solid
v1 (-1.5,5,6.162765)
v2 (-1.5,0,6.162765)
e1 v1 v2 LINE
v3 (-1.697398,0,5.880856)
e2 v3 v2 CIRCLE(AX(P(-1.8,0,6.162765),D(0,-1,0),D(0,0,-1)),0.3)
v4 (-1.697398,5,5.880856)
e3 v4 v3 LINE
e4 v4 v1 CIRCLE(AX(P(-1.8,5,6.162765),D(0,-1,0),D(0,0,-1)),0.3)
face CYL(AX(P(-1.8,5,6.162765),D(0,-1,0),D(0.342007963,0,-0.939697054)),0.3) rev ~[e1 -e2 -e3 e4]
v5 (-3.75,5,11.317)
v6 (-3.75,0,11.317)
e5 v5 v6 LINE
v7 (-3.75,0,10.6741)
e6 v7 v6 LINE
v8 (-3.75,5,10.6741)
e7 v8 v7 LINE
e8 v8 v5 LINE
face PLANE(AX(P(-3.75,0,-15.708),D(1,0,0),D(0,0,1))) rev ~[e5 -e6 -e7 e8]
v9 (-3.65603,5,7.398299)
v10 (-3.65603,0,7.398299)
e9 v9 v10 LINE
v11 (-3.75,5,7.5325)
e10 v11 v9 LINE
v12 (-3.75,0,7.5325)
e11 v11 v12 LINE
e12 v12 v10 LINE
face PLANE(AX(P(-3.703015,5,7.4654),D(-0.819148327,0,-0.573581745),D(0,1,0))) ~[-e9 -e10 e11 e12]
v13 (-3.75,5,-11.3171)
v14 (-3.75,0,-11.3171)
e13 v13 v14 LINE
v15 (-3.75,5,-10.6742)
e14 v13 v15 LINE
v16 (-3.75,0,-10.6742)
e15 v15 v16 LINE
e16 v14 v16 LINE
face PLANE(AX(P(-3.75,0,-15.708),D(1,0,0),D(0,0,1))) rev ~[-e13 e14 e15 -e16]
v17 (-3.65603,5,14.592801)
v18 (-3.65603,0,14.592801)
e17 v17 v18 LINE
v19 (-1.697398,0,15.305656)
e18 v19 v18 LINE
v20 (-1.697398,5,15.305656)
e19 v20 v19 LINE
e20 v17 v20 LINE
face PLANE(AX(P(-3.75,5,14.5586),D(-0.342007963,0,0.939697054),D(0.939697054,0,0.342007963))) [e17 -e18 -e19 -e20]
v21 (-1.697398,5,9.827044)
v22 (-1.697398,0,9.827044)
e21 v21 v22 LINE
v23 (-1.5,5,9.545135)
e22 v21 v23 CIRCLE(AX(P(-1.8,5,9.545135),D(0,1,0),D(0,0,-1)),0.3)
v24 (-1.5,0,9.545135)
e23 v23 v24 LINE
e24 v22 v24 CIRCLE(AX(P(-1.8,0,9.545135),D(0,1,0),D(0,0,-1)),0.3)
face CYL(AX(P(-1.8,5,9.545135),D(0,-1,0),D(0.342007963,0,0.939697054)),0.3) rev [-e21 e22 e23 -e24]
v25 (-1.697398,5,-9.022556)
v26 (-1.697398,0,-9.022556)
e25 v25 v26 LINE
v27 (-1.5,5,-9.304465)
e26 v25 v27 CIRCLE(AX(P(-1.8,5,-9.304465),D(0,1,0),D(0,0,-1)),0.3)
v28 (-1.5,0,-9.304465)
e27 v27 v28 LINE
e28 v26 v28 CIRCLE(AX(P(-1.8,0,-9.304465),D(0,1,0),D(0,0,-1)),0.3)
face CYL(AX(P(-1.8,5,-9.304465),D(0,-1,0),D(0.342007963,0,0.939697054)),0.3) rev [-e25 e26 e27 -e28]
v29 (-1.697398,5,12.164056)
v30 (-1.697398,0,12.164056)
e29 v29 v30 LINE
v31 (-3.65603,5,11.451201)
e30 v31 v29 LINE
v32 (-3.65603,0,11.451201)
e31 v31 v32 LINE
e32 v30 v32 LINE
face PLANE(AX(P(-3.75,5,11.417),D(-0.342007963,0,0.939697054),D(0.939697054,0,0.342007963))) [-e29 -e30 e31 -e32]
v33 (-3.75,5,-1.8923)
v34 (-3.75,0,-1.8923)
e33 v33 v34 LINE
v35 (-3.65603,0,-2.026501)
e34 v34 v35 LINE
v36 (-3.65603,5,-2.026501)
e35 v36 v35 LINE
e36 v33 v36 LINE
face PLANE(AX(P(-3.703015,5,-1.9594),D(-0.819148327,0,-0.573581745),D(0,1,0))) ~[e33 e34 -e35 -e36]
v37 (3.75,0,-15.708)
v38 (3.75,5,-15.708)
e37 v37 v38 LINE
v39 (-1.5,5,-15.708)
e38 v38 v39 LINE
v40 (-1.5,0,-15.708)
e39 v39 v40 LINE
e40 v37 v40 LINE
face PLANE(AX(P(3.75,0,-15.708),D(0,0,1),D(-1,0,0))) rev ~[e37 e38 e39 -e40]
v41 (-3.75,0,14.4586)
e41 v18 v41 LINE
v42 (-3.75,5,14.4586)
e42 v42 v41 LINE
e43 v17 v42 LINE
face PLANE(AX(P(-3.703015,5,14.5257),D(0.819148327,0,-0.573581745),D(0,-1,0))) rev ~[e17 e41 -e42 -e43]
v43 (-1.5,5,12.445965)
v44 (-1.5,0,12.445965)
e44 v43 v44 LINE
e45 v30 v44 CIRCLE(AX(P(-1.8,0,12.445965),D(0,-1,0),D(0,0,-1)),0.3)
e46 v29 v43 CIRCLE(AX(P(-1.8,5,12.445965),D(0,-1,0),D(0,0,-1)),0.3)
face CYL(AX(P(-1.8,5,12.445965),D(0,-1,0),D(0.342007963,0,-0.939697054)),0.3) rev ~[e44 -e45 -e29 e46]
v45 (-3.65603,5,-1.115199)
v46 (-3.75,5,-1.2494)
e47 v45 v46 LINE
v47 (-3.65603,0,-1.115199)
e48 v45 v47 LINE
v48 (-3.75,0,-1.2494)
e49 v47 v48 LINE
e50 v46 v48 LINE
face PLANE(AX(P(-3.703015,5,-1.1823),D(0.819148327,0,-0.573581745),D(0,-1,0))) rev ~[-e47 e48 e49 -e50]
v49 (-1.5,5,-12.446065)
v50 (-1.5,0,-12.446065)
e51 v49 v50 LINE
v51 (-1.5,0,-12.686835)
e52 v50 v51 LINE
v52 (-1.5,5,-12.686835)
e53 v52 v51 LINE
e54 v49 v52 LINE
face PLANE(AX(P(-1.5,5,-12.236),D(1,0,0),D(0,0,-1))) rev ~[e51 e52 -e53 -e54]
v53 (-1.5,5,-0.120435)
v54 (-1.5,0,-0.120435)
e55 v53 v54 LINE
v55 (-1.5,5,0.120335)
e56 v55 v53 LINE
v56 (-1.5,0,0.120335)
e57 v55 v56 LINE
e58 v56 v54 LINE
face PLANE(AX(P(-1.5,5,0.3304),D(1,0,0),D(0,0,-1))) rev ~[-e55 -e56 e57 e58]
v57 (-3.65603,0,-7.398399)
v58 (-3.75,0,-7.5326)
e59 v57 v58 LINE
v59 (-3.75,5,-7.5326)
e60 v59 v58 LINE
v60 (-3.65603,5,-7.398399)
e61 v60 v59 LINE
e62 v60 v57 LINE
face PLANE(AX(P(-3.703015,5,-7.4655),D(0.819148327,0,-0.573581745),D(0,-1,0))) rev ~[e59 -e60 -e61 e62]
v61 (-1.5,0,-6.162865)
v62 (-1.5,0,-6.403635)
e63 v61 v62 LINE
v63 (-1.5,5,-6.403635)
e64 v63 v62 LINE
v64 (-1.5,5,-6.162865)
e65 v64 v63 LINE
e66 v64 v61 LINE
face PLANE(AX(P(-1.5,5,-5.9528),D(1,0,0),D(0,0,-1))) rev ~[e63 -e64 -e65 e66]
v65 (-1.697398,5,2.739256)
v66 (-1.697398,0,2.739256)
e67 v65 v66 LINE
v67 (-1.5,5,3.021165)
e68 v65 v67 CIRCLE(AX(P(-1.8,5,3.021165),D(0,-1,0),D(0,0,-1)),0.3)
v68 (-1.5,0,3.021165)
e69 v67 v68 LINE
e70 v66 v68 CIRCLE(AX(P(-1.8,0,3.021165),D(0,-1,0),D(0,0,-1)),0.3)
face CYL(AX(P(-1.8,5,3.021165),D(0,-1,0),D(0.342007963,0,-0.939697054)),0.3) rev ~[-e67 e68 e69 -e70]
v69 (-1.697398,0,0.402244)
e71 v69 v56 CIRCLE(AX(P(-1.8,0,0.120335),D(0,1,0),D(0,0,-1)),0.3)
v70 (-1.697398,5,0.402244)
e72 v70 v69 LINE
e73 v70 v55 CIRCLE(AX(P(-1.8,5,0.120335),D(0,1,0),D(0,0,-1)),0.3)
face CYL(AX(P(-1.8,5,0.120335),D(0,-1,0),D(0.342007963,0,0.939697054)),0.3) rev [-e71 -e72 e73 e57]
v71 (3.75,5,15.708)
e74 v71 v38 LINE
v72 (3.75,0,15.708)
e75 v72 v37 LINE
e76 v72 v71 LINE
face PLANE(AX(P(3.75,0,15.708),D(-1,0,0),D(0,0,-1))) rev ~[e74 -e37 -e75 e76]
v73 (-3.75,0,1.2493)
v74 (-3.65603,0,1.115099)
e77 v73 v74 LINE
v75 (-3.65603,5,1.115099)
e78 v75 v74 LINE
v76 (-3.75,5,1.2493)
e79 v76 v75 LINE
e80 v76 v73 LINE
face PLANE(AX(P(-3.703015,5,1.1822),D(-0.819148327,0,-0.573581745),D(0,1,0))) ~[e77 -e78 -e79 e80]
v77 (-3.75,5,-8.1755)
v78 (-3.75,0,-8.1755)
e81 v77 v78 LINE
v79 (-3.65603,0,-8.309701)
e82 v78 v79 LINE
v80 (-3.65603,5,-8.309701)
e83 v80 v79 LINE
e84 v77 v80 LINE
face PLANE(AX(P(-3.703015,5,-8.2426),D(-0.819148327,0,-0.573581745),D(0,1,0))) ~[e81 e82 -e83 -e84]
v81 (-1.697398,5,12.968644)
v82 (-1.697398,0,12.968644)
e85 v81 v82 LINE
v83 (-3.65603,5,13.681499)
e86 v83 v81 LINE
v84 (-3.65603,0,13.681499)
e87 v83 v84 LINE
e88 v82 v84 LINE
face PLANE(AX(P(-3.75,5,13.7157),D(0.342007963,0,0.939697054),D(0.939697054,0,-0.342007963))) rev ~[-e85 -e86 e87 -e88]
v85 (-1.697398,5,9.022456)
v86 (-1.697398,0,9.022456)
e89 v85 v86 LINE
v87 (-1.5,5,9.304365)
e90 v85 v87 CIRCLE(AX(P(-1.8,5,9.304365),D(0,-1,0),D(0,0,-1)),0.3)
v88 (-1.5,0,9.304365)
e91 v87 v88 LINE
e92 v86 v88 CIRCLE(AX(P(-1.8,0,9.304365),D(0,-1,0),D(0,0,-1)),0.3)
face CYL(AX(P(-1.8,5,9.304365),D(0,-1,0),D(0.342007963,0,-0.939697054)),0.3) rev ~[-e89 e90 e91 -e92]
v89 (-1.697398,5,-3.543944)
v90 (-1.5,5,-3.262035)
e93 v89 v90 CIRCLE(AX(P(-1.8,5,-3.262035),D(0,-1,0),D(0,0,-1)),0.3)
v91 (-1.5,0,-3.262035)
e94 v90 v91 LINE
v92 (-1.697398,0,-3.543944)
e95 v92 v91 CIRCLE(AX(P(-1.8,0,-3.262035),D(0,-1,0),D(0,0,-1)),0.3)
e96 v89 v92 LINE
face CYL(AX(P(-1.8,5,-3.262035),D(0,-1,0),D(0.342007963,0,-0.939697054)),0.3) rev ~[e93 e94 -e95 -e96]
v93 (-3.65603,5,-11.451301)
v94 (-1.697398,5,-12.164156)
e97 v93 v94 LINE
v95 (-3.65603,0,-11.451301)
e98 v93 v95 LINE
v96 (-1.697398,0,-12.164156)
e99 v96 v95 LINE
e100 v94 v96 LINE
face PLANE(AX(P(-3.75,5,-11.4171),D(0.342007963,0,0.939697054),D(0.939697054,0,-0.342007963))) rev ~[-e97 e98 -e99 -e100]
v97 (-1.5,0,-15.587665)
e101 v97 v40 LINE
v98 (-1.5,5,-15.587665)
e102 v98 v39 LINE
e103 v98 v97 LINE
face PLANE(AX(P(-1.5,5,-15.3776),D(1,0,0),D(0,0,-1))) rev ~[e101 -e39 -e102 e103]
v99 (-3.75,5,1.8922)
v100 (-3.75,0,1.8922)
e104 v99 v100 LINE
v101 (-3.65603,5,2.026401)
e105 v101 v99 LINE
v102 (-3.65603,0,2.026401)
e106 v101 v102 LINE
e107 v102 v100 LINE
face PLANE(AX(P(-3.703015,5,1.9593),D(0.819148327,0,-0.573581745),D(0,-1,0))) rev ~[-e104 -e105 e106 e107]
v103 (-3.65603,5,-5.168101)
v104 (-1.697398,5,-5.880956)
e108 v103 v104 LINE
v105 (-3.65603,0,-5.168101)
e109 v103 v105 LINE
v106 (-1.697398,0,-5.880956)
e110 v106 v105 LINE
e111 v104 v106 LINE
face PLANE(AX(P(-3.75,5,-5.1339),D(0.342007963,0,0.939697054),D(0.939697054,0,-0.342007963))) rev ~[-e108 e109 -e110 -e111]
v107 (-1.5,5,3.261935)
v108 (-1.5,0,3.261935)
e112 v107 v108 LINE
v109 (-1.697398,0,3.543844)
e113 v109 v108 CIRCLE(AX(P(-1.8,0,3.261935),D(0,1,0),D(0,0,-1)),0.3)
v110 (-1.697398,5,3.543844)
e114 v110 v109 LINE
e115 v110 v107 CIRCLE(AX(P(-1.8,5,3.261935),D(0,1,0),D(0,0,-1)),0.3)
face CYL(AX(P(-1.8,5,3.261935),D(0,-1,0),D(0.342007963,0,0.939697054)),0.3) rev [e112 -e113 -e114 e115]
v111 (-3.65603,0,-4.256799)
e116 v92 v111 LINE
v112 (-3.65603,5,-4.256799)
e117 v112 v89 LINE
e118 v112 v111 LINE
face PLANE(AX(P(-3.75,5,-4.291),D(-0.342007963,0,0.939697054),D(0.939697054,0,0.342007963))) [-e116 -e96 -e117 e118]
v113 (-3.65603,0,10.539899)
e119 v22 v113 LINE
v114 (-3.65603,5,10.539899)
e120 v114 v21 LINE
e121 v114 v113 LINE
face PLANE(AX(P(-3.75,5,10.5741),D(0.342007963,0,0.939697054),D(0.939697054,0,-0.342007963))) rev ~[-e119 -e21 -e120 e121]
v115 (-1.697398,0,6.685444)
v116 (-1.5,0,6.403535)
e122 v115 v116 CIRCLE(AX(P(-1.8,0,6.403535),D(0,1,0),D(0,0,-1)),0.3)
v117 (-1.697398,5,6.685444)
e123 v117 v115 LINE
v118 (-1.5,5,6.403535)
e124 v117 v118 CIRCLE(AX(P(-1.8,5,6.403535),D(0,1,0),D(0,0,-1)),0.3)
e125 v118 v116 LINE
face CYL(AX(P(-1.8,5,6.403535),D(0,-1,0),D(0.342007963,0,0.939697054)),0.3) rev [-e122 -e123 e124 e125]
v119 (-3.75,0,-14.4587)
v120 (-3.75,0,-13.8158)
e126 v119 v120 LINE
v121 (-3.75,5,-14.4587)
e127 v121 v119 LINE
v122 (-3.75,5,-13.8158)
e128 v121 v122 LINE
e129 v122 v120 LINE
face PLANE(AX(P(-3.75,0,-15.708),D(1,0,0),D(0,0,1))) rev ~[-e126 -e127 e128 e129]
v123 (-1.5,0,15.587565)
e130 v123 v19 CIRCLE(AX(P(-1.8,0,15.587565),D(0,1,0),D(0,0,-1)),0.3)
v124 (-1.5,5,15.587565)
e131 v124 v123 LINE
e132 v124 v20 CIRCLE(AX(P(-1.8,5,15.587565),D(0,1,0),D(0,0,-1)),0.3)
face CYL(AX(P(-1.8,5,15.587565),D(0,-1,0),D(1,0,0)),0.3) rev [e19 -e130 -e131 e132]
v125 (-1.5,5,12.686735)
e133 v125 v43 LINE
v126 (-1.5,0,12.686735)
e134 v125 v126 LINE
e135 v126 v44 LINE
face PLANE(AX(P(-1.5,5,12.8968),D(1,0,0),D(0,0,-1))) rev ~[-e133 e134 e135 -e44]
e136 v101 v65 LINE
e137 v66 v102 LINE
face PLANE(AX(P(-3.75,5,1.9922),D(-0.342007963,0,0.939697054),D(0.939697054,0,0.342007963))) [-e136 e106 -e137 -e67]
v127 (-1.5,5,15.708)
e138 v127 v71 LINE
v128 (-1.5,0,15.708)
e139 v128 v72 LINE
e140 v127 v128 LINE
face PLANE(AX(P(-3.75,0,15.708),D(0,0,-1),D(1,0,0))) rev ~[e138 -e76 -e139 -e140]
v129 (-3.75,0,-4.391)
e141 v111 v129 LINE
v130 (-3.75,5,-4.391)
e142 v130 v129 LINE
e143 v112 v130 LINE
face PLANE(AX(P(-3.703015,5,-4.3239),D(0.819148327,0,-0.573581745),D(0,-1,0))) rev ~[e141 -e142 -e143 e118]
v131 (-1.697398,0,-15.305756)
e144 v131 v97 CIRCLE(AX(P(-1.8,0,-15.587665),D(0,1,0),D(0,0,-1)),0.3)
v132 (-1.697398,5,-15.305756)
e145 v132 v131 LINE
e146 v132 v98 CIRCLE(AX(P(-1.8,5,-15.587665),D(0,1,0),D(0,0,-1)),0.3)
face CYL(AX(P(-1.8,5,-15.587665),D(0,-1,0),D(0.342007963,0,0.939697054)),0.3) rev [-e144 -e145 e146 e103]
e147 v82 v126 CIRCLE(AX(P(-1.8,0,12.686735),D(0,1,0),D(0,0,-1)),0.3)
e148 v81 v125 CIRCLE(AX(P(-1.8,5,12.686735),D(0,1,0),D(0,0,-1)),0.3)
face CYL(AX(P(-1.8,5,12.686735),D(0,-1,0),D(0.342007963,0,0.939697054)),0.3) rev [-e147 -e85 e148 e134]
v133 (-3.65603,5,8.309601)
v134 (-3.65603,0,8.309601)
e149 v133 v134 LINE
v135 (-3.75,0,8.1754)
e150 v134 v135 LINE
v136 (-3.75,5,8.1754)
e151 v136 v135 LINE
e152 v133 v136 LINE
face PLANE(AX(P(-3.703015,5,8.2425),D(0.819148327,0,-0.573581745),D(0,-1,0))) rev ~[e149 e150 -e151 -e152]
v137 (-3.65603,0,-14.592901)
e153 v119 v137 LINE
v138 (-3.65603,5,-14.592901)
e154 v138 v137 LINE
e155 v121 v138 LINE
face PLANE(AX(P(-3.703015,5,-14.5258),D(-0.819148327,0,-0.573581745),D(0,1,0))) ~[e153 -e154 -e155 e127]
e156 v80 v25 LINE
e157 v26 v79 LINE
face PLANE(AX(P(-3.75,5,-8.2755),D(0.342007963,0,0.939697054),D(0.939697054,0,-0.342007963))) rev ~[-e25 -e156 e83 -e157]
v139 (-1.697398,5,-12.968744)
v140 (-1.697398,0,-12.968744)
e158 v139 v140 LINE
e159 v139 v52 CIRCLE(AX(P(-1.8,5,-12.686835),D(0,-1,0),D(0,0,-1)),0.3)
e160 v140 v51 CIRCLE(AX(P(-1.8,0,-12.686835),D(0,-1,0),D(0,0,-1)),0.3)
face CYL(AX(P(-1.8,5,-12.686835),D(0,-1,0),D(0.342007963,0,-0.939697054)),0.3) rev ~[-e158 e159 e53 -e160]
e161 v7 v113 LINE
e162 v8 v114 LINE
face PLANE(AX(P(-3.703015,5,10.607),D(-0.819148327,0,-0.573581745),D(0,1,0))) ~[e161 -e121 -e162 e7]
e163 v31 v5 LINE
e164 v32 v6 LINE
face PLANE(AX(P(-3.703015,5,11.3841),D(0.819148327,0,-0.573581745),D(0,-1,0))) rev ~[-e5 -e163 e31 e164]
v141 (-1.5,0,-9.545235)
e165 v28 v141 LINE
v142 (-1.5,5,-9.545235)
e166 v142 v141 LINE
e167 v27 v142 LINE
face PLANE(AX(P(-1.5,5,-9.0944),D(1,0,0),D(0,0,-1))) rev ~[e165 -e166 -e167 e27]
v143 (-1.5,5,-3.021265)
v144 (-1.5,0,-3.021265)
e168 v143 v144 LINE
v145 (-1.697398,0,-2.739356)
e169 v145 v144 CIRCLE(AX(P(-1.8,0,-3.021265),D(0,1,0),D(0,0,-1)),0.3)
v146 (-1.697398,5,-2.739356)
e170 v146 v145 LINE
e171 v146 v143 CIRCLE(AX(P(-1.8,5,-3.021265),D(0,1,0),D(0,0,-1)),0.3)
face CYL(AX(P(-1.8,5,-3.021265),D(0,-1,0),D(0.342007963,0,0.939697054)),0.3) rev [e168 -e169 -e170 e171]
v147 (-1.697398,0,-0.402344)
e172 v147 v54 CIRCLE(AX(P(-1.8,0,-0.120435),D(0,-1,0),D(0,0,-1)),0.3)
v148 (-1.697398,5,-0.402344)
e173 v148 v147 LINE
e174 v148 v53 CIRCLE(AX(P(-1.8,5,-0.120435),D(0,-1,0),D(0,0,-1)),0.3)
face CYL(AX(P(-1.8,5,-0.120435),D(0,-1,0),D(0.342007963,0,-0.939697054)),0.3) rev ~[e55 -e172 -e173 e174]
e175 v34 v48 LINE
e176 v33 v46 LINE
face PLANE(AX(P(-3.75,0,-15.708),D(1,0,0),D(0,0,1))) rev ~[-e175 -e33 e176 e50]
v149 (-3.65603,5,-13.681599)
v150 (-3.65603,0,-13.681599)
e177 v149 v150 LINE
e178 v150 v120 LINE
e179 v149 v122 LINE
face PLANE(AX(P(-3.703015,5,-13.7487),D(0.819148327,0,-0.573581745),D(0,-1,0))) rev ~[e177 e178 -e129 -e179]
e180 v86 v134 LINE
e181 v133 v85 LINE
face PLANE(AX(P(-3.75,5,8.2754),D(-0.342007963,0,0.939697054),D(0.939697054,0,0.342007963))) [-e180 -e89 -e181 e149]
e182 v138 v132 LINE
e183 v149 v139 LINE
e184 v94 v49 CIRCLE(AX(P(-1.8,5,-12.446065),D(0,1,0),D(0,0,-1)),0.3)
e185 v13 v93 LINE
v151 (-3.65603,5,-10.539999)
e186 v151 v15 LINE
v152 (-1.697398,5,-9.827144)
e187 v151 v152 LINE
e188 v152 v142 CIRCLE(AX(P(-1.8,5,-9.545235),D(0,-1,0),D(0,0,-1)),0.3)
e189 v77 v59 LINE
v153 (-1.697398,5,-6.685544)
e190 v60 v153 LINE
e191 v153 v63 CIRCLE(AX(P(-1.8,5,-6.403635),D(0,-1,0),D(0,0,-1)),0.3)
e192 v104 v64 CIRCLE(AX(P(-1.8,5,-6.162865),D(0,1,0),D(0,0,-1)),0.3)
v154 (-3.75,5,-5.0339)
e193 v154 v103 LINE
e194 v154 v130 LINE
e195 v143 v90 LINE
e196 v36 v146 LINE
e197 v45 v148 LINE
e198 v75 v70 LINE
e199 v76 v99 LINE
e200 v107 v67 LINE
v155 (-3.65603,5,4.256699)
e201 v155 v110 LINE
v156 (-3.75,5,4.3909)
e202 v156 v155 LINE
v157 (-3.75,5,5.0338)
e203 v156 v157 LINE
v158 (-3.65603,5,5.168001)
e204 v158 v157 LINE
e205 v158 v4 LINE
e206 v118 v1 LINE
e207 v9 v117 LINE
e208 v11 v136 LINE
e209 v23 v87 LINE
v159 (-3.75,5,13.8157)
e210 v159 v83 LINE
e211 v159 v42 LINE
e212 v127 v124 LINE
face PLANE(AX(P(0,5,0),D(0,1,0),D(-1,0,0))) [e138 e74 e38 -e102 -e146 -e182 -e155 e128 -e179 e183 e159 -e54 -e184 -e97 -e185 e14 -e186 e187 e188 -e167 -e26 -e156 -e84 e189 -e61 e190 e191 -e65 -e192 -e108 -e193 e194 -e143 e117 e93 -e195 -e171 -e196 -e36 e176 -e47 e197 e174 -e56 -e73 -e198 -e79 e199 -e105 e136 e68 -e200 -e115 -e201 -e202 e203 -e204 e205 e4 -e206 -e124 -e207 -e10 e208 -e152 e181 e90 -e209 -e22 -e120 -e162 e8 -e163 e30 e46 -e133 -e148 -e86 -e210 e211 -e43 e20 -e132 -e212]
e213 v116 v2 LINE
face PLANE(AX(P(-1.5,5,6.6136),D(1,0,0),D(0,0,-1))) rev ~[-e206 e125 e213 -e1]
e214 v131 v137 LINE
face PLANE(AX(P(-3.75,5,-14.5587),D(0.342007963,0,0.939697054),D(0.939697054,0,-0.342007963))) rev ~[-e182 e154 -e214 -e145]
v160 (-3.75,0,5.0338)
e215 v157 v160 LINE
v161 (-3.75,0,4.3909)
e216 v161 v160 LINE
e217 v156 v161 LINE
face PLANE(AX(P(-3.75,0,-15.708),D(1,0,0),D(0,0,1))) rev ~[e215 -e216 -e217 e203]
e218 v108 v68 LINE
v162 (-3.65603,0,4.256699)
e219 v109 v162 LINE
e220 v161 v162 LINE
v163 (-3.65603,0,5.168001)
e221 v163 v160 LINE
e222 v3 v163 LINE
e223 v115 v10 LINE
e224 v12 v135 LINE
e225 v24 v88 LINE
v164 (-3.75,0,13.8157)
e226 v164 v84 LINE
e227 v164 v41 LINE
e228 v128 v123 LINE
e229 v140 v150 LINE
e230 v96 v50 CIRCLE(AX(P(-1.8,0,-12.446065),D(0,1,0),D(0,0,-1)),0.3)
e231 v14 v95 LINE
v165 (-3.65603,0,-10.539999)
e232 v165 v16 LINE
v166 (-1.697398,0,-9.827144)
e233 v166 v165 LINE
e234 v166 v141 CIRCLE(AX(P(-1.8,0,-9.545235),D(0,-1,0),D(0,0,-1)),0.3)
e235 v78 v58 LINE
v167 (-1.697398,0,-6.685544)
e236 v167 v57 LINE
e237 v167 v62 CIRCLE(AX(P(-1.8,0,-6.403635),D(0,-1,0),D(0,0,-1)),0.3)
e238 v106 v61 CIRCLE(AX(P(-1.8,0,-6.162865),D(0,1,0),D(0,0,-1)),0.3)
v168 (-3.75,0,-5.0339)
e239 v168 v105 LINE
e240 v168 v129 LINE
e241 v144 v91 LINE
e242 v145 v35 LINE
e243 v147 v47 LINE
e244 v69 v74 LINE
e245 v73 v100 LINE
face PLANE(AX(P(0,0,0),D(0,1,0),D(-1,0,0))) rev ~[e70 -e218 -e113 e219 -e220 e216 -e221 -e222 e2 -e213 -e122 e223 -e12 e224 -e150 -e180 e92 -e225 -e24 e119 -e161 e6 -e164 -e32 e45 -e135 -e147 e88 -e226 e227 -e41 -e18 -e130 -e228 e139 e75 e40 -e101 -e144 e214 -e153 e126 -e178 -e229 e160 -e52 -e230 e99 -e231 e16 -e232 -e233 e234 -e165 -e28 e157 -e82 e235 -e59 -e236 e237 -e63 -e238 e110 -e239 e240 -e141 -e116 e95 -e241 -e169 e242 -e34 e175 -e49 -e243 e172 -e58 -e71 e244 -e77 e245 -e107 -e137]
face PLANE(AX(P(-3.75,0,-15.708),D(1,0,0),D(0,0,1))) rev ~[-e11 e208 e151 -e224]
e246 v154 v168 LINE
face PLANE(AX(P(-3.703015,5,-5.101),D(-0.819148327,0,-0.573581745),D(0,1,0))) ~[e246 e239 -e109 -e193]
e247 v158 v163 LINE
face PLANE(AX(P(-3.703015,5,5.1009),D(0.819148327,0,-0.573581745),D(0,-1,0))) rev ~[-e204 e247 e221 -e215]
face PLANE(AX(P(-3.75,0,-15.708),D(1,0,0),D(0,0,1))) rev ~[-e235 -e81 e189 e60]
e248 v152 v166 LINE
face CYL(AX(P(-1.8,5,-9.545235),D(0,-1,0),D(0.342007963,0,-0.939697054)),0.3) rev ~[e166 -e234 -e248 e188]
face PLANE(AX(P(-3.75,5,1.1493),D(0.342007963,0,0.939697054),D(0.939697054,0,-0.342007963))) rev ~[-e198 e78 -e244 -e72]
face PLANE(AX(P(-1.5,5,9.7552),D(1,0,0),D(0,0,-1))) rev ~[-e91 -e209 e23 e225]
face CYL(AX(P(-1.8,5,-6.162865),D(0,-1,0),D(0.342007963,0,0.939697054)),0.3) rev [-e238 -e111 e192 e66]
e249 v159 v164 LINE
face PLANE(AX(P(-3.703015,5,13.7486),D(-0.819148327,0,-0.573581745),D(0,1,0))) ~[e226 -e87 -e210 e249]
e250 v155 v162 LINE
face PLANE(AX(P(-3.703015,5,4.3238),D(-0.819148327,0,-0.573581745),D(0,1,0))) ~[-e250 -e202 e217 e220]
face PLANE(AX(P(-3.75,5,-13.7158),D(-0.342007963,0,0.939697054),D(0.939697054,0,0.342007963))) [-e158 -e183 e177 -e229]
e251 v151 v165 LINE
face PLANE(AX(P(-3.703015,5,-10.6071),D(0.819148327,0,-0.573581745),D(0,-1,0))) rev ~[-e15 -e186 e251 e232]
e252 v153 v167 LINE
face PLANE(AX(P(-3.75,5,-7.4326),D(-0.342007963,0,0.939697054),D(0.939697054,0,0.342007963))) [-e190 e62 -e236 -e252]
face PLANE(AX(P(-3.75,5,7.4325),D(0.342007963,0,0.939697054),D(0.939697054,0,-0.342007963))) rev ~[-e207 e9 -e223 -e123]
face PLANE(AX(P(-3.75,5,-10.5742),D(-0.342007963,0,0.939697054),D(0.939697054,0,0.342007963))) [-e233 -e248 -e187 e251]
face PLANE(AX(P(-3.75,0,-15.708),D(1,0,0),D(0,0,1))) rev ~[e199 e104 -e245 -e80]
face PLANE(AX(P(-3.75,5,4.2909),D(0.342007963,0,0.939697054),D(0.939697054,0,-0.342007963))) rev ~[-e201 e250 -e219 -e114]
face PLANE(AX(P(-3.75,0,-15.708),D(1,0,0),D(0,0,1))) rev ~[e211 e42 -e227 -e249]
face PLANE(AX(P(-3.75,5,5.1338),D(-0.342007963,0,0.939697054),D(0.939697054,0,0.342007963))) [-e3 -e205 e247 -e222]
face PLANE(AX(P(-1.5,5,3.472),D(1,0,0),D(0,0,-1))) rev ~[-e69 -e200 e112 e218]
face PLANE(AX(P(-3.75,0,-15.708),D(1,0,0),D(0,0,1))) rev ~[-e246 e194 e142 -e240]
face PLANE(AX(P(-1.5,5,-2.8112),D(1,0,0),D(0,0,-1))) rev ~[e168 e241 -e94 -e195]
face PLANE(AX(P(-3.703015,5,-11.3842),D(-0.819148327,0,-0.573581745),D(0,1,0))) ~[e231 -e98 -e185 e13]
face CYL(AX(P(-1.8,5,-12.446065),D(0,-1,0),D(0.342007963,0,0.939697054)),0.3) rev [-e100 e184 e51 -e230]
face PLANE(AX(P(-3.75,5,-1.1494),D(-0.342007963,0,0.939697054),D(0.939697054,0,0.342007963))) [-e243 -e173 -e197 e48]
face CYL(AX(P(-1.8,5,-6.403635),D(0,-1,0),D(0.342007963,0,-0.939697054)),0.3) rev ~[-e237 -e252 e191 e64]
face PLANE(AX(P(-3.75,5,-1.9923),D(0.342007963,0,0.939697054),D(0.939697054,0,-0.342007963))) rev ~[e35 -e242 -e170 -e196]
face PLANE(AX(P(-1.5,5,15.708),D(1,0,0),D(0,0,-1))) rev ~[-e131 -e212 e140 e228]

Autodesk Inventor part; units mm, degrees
ref_plane "YZ Plane" through (0, 0, 0) normal (1, 0, 0) x (0, 1, 0)
ref_plane "XZ Plane" through (0, 0, 0) normal (0, 1, 0) x (-1, 0, 0)
ref_plane "XY Plane" through (0, 0, 0) normal (0, 0, 1) x (1, 0, 0)
sketch "スケッチ1" plane through (0, 0, 0) normal (0, 1, 0) x (-1, 0, 0)
  point P0 (0, 0)
  point P1 (4.6985, 0)
  point P2 (6.4922, 1.415)
sketch "スケッチ2" plane through (0, 0, 0) normal (0, 1, 0) x (-1, 0, 0)
  line L0 (3.75, 15.708) -> (-3.75, 15.708)
  line L1 (-3.75, 15.708) -> (-3.75, -15.708)
  line L2 (-3.75, -15.708) -> (3.75, -15.708)
  line L3 (3.75, -15.708) -> (3.75, 15.708)
  line L4 (3.75, 15.708) -> (-3.75, -15.708)
  line L5 (3.75, -15.708) -> (-3.75, 15.708)
  point P0 (0, 0)
  point P1 (0.0816, -5.789)
  point P2 (0, 0)
  dimension "d2" = 7.5
  dimension "d3" = 31.4159
extrude "押し出し1" add sketch "スケッチ2" along normal blind 5
ref_plane "作業平面1" through (0, 5, 0) normal (0, 1, 0) x (1, 0, 0)
sketch "スケッチ3" plane through (0, 5, 0) normal (0, 1, 0) x (1, 0, 0)
  line L0 (-3.75, 15.708) -> (-3.75, -15.708) projected
  line L1 (-3.75, -12.5664) -> (3.75, -12.5664)
  line L2 (3.75, -15.708) -> (3.75, 15.708) projected
  line L3 (-3.75, -15.708) -> (3.75, -15.708) projected
  line L4 (-3.75, -14.1372) -> (3.75, -14.1372)
  line L5 (-2.75, -15.708) -> (-2.75, -12.5664)
  line L6 (-1.5, -15.708) -> (-1.5, -12.5664)
  line L7 (-3.75, -14.5586) -> (-1.5, -15.3775)
  line L8 (-3.75, -14.5586) -> (-1.3556, -14.5586) construction
  line L9 (-3.75, -13.7157) -> (-1.5, -12.8968)
  line L10 (-3.75, -13.7157) -> (-1.3556, -13.7157) construction
  point P0 (0, 0)
  point P1 (-2.75, -14.9226)
  point P2 (-2.75, -13.3518)
  dimension "d8" = 1.5708
  dimension "d9" = 1.5708
  dimension "d10" = 1
  dimension "d11" = 1.25
  dimension "d12" = 0.7854
  dimension "d13" = 0.7854
  dimension "d14" = 20
  dimension "d15" = 20
extrude "押し出し2" cut sketch "スケッチ3" against normal blind 5 contours L1 L5 L9 L0 | L1 L6 L9 L5 | L7 L5 L3 L0 | L7 L6 L3 L5
fillet "フィレット1" radius 0.3 2 edges at (-1.5, 2.5, 12.8968) (-1.5, 2.5, 15.3775)
chamfer "面取り1" distance 0.1 angle 45 2 edges at (-3.75, 2.5, 14.5586) (-3.75, 2.5, 13.7157)
pattern_linear "矩形状パターン1" count 10 spacing 3.1416 along (0, 0, -1) of "押し出し2", "面取り1", "フィレット1"
equation "\"module\" = 1"
properties part number "lack1"
